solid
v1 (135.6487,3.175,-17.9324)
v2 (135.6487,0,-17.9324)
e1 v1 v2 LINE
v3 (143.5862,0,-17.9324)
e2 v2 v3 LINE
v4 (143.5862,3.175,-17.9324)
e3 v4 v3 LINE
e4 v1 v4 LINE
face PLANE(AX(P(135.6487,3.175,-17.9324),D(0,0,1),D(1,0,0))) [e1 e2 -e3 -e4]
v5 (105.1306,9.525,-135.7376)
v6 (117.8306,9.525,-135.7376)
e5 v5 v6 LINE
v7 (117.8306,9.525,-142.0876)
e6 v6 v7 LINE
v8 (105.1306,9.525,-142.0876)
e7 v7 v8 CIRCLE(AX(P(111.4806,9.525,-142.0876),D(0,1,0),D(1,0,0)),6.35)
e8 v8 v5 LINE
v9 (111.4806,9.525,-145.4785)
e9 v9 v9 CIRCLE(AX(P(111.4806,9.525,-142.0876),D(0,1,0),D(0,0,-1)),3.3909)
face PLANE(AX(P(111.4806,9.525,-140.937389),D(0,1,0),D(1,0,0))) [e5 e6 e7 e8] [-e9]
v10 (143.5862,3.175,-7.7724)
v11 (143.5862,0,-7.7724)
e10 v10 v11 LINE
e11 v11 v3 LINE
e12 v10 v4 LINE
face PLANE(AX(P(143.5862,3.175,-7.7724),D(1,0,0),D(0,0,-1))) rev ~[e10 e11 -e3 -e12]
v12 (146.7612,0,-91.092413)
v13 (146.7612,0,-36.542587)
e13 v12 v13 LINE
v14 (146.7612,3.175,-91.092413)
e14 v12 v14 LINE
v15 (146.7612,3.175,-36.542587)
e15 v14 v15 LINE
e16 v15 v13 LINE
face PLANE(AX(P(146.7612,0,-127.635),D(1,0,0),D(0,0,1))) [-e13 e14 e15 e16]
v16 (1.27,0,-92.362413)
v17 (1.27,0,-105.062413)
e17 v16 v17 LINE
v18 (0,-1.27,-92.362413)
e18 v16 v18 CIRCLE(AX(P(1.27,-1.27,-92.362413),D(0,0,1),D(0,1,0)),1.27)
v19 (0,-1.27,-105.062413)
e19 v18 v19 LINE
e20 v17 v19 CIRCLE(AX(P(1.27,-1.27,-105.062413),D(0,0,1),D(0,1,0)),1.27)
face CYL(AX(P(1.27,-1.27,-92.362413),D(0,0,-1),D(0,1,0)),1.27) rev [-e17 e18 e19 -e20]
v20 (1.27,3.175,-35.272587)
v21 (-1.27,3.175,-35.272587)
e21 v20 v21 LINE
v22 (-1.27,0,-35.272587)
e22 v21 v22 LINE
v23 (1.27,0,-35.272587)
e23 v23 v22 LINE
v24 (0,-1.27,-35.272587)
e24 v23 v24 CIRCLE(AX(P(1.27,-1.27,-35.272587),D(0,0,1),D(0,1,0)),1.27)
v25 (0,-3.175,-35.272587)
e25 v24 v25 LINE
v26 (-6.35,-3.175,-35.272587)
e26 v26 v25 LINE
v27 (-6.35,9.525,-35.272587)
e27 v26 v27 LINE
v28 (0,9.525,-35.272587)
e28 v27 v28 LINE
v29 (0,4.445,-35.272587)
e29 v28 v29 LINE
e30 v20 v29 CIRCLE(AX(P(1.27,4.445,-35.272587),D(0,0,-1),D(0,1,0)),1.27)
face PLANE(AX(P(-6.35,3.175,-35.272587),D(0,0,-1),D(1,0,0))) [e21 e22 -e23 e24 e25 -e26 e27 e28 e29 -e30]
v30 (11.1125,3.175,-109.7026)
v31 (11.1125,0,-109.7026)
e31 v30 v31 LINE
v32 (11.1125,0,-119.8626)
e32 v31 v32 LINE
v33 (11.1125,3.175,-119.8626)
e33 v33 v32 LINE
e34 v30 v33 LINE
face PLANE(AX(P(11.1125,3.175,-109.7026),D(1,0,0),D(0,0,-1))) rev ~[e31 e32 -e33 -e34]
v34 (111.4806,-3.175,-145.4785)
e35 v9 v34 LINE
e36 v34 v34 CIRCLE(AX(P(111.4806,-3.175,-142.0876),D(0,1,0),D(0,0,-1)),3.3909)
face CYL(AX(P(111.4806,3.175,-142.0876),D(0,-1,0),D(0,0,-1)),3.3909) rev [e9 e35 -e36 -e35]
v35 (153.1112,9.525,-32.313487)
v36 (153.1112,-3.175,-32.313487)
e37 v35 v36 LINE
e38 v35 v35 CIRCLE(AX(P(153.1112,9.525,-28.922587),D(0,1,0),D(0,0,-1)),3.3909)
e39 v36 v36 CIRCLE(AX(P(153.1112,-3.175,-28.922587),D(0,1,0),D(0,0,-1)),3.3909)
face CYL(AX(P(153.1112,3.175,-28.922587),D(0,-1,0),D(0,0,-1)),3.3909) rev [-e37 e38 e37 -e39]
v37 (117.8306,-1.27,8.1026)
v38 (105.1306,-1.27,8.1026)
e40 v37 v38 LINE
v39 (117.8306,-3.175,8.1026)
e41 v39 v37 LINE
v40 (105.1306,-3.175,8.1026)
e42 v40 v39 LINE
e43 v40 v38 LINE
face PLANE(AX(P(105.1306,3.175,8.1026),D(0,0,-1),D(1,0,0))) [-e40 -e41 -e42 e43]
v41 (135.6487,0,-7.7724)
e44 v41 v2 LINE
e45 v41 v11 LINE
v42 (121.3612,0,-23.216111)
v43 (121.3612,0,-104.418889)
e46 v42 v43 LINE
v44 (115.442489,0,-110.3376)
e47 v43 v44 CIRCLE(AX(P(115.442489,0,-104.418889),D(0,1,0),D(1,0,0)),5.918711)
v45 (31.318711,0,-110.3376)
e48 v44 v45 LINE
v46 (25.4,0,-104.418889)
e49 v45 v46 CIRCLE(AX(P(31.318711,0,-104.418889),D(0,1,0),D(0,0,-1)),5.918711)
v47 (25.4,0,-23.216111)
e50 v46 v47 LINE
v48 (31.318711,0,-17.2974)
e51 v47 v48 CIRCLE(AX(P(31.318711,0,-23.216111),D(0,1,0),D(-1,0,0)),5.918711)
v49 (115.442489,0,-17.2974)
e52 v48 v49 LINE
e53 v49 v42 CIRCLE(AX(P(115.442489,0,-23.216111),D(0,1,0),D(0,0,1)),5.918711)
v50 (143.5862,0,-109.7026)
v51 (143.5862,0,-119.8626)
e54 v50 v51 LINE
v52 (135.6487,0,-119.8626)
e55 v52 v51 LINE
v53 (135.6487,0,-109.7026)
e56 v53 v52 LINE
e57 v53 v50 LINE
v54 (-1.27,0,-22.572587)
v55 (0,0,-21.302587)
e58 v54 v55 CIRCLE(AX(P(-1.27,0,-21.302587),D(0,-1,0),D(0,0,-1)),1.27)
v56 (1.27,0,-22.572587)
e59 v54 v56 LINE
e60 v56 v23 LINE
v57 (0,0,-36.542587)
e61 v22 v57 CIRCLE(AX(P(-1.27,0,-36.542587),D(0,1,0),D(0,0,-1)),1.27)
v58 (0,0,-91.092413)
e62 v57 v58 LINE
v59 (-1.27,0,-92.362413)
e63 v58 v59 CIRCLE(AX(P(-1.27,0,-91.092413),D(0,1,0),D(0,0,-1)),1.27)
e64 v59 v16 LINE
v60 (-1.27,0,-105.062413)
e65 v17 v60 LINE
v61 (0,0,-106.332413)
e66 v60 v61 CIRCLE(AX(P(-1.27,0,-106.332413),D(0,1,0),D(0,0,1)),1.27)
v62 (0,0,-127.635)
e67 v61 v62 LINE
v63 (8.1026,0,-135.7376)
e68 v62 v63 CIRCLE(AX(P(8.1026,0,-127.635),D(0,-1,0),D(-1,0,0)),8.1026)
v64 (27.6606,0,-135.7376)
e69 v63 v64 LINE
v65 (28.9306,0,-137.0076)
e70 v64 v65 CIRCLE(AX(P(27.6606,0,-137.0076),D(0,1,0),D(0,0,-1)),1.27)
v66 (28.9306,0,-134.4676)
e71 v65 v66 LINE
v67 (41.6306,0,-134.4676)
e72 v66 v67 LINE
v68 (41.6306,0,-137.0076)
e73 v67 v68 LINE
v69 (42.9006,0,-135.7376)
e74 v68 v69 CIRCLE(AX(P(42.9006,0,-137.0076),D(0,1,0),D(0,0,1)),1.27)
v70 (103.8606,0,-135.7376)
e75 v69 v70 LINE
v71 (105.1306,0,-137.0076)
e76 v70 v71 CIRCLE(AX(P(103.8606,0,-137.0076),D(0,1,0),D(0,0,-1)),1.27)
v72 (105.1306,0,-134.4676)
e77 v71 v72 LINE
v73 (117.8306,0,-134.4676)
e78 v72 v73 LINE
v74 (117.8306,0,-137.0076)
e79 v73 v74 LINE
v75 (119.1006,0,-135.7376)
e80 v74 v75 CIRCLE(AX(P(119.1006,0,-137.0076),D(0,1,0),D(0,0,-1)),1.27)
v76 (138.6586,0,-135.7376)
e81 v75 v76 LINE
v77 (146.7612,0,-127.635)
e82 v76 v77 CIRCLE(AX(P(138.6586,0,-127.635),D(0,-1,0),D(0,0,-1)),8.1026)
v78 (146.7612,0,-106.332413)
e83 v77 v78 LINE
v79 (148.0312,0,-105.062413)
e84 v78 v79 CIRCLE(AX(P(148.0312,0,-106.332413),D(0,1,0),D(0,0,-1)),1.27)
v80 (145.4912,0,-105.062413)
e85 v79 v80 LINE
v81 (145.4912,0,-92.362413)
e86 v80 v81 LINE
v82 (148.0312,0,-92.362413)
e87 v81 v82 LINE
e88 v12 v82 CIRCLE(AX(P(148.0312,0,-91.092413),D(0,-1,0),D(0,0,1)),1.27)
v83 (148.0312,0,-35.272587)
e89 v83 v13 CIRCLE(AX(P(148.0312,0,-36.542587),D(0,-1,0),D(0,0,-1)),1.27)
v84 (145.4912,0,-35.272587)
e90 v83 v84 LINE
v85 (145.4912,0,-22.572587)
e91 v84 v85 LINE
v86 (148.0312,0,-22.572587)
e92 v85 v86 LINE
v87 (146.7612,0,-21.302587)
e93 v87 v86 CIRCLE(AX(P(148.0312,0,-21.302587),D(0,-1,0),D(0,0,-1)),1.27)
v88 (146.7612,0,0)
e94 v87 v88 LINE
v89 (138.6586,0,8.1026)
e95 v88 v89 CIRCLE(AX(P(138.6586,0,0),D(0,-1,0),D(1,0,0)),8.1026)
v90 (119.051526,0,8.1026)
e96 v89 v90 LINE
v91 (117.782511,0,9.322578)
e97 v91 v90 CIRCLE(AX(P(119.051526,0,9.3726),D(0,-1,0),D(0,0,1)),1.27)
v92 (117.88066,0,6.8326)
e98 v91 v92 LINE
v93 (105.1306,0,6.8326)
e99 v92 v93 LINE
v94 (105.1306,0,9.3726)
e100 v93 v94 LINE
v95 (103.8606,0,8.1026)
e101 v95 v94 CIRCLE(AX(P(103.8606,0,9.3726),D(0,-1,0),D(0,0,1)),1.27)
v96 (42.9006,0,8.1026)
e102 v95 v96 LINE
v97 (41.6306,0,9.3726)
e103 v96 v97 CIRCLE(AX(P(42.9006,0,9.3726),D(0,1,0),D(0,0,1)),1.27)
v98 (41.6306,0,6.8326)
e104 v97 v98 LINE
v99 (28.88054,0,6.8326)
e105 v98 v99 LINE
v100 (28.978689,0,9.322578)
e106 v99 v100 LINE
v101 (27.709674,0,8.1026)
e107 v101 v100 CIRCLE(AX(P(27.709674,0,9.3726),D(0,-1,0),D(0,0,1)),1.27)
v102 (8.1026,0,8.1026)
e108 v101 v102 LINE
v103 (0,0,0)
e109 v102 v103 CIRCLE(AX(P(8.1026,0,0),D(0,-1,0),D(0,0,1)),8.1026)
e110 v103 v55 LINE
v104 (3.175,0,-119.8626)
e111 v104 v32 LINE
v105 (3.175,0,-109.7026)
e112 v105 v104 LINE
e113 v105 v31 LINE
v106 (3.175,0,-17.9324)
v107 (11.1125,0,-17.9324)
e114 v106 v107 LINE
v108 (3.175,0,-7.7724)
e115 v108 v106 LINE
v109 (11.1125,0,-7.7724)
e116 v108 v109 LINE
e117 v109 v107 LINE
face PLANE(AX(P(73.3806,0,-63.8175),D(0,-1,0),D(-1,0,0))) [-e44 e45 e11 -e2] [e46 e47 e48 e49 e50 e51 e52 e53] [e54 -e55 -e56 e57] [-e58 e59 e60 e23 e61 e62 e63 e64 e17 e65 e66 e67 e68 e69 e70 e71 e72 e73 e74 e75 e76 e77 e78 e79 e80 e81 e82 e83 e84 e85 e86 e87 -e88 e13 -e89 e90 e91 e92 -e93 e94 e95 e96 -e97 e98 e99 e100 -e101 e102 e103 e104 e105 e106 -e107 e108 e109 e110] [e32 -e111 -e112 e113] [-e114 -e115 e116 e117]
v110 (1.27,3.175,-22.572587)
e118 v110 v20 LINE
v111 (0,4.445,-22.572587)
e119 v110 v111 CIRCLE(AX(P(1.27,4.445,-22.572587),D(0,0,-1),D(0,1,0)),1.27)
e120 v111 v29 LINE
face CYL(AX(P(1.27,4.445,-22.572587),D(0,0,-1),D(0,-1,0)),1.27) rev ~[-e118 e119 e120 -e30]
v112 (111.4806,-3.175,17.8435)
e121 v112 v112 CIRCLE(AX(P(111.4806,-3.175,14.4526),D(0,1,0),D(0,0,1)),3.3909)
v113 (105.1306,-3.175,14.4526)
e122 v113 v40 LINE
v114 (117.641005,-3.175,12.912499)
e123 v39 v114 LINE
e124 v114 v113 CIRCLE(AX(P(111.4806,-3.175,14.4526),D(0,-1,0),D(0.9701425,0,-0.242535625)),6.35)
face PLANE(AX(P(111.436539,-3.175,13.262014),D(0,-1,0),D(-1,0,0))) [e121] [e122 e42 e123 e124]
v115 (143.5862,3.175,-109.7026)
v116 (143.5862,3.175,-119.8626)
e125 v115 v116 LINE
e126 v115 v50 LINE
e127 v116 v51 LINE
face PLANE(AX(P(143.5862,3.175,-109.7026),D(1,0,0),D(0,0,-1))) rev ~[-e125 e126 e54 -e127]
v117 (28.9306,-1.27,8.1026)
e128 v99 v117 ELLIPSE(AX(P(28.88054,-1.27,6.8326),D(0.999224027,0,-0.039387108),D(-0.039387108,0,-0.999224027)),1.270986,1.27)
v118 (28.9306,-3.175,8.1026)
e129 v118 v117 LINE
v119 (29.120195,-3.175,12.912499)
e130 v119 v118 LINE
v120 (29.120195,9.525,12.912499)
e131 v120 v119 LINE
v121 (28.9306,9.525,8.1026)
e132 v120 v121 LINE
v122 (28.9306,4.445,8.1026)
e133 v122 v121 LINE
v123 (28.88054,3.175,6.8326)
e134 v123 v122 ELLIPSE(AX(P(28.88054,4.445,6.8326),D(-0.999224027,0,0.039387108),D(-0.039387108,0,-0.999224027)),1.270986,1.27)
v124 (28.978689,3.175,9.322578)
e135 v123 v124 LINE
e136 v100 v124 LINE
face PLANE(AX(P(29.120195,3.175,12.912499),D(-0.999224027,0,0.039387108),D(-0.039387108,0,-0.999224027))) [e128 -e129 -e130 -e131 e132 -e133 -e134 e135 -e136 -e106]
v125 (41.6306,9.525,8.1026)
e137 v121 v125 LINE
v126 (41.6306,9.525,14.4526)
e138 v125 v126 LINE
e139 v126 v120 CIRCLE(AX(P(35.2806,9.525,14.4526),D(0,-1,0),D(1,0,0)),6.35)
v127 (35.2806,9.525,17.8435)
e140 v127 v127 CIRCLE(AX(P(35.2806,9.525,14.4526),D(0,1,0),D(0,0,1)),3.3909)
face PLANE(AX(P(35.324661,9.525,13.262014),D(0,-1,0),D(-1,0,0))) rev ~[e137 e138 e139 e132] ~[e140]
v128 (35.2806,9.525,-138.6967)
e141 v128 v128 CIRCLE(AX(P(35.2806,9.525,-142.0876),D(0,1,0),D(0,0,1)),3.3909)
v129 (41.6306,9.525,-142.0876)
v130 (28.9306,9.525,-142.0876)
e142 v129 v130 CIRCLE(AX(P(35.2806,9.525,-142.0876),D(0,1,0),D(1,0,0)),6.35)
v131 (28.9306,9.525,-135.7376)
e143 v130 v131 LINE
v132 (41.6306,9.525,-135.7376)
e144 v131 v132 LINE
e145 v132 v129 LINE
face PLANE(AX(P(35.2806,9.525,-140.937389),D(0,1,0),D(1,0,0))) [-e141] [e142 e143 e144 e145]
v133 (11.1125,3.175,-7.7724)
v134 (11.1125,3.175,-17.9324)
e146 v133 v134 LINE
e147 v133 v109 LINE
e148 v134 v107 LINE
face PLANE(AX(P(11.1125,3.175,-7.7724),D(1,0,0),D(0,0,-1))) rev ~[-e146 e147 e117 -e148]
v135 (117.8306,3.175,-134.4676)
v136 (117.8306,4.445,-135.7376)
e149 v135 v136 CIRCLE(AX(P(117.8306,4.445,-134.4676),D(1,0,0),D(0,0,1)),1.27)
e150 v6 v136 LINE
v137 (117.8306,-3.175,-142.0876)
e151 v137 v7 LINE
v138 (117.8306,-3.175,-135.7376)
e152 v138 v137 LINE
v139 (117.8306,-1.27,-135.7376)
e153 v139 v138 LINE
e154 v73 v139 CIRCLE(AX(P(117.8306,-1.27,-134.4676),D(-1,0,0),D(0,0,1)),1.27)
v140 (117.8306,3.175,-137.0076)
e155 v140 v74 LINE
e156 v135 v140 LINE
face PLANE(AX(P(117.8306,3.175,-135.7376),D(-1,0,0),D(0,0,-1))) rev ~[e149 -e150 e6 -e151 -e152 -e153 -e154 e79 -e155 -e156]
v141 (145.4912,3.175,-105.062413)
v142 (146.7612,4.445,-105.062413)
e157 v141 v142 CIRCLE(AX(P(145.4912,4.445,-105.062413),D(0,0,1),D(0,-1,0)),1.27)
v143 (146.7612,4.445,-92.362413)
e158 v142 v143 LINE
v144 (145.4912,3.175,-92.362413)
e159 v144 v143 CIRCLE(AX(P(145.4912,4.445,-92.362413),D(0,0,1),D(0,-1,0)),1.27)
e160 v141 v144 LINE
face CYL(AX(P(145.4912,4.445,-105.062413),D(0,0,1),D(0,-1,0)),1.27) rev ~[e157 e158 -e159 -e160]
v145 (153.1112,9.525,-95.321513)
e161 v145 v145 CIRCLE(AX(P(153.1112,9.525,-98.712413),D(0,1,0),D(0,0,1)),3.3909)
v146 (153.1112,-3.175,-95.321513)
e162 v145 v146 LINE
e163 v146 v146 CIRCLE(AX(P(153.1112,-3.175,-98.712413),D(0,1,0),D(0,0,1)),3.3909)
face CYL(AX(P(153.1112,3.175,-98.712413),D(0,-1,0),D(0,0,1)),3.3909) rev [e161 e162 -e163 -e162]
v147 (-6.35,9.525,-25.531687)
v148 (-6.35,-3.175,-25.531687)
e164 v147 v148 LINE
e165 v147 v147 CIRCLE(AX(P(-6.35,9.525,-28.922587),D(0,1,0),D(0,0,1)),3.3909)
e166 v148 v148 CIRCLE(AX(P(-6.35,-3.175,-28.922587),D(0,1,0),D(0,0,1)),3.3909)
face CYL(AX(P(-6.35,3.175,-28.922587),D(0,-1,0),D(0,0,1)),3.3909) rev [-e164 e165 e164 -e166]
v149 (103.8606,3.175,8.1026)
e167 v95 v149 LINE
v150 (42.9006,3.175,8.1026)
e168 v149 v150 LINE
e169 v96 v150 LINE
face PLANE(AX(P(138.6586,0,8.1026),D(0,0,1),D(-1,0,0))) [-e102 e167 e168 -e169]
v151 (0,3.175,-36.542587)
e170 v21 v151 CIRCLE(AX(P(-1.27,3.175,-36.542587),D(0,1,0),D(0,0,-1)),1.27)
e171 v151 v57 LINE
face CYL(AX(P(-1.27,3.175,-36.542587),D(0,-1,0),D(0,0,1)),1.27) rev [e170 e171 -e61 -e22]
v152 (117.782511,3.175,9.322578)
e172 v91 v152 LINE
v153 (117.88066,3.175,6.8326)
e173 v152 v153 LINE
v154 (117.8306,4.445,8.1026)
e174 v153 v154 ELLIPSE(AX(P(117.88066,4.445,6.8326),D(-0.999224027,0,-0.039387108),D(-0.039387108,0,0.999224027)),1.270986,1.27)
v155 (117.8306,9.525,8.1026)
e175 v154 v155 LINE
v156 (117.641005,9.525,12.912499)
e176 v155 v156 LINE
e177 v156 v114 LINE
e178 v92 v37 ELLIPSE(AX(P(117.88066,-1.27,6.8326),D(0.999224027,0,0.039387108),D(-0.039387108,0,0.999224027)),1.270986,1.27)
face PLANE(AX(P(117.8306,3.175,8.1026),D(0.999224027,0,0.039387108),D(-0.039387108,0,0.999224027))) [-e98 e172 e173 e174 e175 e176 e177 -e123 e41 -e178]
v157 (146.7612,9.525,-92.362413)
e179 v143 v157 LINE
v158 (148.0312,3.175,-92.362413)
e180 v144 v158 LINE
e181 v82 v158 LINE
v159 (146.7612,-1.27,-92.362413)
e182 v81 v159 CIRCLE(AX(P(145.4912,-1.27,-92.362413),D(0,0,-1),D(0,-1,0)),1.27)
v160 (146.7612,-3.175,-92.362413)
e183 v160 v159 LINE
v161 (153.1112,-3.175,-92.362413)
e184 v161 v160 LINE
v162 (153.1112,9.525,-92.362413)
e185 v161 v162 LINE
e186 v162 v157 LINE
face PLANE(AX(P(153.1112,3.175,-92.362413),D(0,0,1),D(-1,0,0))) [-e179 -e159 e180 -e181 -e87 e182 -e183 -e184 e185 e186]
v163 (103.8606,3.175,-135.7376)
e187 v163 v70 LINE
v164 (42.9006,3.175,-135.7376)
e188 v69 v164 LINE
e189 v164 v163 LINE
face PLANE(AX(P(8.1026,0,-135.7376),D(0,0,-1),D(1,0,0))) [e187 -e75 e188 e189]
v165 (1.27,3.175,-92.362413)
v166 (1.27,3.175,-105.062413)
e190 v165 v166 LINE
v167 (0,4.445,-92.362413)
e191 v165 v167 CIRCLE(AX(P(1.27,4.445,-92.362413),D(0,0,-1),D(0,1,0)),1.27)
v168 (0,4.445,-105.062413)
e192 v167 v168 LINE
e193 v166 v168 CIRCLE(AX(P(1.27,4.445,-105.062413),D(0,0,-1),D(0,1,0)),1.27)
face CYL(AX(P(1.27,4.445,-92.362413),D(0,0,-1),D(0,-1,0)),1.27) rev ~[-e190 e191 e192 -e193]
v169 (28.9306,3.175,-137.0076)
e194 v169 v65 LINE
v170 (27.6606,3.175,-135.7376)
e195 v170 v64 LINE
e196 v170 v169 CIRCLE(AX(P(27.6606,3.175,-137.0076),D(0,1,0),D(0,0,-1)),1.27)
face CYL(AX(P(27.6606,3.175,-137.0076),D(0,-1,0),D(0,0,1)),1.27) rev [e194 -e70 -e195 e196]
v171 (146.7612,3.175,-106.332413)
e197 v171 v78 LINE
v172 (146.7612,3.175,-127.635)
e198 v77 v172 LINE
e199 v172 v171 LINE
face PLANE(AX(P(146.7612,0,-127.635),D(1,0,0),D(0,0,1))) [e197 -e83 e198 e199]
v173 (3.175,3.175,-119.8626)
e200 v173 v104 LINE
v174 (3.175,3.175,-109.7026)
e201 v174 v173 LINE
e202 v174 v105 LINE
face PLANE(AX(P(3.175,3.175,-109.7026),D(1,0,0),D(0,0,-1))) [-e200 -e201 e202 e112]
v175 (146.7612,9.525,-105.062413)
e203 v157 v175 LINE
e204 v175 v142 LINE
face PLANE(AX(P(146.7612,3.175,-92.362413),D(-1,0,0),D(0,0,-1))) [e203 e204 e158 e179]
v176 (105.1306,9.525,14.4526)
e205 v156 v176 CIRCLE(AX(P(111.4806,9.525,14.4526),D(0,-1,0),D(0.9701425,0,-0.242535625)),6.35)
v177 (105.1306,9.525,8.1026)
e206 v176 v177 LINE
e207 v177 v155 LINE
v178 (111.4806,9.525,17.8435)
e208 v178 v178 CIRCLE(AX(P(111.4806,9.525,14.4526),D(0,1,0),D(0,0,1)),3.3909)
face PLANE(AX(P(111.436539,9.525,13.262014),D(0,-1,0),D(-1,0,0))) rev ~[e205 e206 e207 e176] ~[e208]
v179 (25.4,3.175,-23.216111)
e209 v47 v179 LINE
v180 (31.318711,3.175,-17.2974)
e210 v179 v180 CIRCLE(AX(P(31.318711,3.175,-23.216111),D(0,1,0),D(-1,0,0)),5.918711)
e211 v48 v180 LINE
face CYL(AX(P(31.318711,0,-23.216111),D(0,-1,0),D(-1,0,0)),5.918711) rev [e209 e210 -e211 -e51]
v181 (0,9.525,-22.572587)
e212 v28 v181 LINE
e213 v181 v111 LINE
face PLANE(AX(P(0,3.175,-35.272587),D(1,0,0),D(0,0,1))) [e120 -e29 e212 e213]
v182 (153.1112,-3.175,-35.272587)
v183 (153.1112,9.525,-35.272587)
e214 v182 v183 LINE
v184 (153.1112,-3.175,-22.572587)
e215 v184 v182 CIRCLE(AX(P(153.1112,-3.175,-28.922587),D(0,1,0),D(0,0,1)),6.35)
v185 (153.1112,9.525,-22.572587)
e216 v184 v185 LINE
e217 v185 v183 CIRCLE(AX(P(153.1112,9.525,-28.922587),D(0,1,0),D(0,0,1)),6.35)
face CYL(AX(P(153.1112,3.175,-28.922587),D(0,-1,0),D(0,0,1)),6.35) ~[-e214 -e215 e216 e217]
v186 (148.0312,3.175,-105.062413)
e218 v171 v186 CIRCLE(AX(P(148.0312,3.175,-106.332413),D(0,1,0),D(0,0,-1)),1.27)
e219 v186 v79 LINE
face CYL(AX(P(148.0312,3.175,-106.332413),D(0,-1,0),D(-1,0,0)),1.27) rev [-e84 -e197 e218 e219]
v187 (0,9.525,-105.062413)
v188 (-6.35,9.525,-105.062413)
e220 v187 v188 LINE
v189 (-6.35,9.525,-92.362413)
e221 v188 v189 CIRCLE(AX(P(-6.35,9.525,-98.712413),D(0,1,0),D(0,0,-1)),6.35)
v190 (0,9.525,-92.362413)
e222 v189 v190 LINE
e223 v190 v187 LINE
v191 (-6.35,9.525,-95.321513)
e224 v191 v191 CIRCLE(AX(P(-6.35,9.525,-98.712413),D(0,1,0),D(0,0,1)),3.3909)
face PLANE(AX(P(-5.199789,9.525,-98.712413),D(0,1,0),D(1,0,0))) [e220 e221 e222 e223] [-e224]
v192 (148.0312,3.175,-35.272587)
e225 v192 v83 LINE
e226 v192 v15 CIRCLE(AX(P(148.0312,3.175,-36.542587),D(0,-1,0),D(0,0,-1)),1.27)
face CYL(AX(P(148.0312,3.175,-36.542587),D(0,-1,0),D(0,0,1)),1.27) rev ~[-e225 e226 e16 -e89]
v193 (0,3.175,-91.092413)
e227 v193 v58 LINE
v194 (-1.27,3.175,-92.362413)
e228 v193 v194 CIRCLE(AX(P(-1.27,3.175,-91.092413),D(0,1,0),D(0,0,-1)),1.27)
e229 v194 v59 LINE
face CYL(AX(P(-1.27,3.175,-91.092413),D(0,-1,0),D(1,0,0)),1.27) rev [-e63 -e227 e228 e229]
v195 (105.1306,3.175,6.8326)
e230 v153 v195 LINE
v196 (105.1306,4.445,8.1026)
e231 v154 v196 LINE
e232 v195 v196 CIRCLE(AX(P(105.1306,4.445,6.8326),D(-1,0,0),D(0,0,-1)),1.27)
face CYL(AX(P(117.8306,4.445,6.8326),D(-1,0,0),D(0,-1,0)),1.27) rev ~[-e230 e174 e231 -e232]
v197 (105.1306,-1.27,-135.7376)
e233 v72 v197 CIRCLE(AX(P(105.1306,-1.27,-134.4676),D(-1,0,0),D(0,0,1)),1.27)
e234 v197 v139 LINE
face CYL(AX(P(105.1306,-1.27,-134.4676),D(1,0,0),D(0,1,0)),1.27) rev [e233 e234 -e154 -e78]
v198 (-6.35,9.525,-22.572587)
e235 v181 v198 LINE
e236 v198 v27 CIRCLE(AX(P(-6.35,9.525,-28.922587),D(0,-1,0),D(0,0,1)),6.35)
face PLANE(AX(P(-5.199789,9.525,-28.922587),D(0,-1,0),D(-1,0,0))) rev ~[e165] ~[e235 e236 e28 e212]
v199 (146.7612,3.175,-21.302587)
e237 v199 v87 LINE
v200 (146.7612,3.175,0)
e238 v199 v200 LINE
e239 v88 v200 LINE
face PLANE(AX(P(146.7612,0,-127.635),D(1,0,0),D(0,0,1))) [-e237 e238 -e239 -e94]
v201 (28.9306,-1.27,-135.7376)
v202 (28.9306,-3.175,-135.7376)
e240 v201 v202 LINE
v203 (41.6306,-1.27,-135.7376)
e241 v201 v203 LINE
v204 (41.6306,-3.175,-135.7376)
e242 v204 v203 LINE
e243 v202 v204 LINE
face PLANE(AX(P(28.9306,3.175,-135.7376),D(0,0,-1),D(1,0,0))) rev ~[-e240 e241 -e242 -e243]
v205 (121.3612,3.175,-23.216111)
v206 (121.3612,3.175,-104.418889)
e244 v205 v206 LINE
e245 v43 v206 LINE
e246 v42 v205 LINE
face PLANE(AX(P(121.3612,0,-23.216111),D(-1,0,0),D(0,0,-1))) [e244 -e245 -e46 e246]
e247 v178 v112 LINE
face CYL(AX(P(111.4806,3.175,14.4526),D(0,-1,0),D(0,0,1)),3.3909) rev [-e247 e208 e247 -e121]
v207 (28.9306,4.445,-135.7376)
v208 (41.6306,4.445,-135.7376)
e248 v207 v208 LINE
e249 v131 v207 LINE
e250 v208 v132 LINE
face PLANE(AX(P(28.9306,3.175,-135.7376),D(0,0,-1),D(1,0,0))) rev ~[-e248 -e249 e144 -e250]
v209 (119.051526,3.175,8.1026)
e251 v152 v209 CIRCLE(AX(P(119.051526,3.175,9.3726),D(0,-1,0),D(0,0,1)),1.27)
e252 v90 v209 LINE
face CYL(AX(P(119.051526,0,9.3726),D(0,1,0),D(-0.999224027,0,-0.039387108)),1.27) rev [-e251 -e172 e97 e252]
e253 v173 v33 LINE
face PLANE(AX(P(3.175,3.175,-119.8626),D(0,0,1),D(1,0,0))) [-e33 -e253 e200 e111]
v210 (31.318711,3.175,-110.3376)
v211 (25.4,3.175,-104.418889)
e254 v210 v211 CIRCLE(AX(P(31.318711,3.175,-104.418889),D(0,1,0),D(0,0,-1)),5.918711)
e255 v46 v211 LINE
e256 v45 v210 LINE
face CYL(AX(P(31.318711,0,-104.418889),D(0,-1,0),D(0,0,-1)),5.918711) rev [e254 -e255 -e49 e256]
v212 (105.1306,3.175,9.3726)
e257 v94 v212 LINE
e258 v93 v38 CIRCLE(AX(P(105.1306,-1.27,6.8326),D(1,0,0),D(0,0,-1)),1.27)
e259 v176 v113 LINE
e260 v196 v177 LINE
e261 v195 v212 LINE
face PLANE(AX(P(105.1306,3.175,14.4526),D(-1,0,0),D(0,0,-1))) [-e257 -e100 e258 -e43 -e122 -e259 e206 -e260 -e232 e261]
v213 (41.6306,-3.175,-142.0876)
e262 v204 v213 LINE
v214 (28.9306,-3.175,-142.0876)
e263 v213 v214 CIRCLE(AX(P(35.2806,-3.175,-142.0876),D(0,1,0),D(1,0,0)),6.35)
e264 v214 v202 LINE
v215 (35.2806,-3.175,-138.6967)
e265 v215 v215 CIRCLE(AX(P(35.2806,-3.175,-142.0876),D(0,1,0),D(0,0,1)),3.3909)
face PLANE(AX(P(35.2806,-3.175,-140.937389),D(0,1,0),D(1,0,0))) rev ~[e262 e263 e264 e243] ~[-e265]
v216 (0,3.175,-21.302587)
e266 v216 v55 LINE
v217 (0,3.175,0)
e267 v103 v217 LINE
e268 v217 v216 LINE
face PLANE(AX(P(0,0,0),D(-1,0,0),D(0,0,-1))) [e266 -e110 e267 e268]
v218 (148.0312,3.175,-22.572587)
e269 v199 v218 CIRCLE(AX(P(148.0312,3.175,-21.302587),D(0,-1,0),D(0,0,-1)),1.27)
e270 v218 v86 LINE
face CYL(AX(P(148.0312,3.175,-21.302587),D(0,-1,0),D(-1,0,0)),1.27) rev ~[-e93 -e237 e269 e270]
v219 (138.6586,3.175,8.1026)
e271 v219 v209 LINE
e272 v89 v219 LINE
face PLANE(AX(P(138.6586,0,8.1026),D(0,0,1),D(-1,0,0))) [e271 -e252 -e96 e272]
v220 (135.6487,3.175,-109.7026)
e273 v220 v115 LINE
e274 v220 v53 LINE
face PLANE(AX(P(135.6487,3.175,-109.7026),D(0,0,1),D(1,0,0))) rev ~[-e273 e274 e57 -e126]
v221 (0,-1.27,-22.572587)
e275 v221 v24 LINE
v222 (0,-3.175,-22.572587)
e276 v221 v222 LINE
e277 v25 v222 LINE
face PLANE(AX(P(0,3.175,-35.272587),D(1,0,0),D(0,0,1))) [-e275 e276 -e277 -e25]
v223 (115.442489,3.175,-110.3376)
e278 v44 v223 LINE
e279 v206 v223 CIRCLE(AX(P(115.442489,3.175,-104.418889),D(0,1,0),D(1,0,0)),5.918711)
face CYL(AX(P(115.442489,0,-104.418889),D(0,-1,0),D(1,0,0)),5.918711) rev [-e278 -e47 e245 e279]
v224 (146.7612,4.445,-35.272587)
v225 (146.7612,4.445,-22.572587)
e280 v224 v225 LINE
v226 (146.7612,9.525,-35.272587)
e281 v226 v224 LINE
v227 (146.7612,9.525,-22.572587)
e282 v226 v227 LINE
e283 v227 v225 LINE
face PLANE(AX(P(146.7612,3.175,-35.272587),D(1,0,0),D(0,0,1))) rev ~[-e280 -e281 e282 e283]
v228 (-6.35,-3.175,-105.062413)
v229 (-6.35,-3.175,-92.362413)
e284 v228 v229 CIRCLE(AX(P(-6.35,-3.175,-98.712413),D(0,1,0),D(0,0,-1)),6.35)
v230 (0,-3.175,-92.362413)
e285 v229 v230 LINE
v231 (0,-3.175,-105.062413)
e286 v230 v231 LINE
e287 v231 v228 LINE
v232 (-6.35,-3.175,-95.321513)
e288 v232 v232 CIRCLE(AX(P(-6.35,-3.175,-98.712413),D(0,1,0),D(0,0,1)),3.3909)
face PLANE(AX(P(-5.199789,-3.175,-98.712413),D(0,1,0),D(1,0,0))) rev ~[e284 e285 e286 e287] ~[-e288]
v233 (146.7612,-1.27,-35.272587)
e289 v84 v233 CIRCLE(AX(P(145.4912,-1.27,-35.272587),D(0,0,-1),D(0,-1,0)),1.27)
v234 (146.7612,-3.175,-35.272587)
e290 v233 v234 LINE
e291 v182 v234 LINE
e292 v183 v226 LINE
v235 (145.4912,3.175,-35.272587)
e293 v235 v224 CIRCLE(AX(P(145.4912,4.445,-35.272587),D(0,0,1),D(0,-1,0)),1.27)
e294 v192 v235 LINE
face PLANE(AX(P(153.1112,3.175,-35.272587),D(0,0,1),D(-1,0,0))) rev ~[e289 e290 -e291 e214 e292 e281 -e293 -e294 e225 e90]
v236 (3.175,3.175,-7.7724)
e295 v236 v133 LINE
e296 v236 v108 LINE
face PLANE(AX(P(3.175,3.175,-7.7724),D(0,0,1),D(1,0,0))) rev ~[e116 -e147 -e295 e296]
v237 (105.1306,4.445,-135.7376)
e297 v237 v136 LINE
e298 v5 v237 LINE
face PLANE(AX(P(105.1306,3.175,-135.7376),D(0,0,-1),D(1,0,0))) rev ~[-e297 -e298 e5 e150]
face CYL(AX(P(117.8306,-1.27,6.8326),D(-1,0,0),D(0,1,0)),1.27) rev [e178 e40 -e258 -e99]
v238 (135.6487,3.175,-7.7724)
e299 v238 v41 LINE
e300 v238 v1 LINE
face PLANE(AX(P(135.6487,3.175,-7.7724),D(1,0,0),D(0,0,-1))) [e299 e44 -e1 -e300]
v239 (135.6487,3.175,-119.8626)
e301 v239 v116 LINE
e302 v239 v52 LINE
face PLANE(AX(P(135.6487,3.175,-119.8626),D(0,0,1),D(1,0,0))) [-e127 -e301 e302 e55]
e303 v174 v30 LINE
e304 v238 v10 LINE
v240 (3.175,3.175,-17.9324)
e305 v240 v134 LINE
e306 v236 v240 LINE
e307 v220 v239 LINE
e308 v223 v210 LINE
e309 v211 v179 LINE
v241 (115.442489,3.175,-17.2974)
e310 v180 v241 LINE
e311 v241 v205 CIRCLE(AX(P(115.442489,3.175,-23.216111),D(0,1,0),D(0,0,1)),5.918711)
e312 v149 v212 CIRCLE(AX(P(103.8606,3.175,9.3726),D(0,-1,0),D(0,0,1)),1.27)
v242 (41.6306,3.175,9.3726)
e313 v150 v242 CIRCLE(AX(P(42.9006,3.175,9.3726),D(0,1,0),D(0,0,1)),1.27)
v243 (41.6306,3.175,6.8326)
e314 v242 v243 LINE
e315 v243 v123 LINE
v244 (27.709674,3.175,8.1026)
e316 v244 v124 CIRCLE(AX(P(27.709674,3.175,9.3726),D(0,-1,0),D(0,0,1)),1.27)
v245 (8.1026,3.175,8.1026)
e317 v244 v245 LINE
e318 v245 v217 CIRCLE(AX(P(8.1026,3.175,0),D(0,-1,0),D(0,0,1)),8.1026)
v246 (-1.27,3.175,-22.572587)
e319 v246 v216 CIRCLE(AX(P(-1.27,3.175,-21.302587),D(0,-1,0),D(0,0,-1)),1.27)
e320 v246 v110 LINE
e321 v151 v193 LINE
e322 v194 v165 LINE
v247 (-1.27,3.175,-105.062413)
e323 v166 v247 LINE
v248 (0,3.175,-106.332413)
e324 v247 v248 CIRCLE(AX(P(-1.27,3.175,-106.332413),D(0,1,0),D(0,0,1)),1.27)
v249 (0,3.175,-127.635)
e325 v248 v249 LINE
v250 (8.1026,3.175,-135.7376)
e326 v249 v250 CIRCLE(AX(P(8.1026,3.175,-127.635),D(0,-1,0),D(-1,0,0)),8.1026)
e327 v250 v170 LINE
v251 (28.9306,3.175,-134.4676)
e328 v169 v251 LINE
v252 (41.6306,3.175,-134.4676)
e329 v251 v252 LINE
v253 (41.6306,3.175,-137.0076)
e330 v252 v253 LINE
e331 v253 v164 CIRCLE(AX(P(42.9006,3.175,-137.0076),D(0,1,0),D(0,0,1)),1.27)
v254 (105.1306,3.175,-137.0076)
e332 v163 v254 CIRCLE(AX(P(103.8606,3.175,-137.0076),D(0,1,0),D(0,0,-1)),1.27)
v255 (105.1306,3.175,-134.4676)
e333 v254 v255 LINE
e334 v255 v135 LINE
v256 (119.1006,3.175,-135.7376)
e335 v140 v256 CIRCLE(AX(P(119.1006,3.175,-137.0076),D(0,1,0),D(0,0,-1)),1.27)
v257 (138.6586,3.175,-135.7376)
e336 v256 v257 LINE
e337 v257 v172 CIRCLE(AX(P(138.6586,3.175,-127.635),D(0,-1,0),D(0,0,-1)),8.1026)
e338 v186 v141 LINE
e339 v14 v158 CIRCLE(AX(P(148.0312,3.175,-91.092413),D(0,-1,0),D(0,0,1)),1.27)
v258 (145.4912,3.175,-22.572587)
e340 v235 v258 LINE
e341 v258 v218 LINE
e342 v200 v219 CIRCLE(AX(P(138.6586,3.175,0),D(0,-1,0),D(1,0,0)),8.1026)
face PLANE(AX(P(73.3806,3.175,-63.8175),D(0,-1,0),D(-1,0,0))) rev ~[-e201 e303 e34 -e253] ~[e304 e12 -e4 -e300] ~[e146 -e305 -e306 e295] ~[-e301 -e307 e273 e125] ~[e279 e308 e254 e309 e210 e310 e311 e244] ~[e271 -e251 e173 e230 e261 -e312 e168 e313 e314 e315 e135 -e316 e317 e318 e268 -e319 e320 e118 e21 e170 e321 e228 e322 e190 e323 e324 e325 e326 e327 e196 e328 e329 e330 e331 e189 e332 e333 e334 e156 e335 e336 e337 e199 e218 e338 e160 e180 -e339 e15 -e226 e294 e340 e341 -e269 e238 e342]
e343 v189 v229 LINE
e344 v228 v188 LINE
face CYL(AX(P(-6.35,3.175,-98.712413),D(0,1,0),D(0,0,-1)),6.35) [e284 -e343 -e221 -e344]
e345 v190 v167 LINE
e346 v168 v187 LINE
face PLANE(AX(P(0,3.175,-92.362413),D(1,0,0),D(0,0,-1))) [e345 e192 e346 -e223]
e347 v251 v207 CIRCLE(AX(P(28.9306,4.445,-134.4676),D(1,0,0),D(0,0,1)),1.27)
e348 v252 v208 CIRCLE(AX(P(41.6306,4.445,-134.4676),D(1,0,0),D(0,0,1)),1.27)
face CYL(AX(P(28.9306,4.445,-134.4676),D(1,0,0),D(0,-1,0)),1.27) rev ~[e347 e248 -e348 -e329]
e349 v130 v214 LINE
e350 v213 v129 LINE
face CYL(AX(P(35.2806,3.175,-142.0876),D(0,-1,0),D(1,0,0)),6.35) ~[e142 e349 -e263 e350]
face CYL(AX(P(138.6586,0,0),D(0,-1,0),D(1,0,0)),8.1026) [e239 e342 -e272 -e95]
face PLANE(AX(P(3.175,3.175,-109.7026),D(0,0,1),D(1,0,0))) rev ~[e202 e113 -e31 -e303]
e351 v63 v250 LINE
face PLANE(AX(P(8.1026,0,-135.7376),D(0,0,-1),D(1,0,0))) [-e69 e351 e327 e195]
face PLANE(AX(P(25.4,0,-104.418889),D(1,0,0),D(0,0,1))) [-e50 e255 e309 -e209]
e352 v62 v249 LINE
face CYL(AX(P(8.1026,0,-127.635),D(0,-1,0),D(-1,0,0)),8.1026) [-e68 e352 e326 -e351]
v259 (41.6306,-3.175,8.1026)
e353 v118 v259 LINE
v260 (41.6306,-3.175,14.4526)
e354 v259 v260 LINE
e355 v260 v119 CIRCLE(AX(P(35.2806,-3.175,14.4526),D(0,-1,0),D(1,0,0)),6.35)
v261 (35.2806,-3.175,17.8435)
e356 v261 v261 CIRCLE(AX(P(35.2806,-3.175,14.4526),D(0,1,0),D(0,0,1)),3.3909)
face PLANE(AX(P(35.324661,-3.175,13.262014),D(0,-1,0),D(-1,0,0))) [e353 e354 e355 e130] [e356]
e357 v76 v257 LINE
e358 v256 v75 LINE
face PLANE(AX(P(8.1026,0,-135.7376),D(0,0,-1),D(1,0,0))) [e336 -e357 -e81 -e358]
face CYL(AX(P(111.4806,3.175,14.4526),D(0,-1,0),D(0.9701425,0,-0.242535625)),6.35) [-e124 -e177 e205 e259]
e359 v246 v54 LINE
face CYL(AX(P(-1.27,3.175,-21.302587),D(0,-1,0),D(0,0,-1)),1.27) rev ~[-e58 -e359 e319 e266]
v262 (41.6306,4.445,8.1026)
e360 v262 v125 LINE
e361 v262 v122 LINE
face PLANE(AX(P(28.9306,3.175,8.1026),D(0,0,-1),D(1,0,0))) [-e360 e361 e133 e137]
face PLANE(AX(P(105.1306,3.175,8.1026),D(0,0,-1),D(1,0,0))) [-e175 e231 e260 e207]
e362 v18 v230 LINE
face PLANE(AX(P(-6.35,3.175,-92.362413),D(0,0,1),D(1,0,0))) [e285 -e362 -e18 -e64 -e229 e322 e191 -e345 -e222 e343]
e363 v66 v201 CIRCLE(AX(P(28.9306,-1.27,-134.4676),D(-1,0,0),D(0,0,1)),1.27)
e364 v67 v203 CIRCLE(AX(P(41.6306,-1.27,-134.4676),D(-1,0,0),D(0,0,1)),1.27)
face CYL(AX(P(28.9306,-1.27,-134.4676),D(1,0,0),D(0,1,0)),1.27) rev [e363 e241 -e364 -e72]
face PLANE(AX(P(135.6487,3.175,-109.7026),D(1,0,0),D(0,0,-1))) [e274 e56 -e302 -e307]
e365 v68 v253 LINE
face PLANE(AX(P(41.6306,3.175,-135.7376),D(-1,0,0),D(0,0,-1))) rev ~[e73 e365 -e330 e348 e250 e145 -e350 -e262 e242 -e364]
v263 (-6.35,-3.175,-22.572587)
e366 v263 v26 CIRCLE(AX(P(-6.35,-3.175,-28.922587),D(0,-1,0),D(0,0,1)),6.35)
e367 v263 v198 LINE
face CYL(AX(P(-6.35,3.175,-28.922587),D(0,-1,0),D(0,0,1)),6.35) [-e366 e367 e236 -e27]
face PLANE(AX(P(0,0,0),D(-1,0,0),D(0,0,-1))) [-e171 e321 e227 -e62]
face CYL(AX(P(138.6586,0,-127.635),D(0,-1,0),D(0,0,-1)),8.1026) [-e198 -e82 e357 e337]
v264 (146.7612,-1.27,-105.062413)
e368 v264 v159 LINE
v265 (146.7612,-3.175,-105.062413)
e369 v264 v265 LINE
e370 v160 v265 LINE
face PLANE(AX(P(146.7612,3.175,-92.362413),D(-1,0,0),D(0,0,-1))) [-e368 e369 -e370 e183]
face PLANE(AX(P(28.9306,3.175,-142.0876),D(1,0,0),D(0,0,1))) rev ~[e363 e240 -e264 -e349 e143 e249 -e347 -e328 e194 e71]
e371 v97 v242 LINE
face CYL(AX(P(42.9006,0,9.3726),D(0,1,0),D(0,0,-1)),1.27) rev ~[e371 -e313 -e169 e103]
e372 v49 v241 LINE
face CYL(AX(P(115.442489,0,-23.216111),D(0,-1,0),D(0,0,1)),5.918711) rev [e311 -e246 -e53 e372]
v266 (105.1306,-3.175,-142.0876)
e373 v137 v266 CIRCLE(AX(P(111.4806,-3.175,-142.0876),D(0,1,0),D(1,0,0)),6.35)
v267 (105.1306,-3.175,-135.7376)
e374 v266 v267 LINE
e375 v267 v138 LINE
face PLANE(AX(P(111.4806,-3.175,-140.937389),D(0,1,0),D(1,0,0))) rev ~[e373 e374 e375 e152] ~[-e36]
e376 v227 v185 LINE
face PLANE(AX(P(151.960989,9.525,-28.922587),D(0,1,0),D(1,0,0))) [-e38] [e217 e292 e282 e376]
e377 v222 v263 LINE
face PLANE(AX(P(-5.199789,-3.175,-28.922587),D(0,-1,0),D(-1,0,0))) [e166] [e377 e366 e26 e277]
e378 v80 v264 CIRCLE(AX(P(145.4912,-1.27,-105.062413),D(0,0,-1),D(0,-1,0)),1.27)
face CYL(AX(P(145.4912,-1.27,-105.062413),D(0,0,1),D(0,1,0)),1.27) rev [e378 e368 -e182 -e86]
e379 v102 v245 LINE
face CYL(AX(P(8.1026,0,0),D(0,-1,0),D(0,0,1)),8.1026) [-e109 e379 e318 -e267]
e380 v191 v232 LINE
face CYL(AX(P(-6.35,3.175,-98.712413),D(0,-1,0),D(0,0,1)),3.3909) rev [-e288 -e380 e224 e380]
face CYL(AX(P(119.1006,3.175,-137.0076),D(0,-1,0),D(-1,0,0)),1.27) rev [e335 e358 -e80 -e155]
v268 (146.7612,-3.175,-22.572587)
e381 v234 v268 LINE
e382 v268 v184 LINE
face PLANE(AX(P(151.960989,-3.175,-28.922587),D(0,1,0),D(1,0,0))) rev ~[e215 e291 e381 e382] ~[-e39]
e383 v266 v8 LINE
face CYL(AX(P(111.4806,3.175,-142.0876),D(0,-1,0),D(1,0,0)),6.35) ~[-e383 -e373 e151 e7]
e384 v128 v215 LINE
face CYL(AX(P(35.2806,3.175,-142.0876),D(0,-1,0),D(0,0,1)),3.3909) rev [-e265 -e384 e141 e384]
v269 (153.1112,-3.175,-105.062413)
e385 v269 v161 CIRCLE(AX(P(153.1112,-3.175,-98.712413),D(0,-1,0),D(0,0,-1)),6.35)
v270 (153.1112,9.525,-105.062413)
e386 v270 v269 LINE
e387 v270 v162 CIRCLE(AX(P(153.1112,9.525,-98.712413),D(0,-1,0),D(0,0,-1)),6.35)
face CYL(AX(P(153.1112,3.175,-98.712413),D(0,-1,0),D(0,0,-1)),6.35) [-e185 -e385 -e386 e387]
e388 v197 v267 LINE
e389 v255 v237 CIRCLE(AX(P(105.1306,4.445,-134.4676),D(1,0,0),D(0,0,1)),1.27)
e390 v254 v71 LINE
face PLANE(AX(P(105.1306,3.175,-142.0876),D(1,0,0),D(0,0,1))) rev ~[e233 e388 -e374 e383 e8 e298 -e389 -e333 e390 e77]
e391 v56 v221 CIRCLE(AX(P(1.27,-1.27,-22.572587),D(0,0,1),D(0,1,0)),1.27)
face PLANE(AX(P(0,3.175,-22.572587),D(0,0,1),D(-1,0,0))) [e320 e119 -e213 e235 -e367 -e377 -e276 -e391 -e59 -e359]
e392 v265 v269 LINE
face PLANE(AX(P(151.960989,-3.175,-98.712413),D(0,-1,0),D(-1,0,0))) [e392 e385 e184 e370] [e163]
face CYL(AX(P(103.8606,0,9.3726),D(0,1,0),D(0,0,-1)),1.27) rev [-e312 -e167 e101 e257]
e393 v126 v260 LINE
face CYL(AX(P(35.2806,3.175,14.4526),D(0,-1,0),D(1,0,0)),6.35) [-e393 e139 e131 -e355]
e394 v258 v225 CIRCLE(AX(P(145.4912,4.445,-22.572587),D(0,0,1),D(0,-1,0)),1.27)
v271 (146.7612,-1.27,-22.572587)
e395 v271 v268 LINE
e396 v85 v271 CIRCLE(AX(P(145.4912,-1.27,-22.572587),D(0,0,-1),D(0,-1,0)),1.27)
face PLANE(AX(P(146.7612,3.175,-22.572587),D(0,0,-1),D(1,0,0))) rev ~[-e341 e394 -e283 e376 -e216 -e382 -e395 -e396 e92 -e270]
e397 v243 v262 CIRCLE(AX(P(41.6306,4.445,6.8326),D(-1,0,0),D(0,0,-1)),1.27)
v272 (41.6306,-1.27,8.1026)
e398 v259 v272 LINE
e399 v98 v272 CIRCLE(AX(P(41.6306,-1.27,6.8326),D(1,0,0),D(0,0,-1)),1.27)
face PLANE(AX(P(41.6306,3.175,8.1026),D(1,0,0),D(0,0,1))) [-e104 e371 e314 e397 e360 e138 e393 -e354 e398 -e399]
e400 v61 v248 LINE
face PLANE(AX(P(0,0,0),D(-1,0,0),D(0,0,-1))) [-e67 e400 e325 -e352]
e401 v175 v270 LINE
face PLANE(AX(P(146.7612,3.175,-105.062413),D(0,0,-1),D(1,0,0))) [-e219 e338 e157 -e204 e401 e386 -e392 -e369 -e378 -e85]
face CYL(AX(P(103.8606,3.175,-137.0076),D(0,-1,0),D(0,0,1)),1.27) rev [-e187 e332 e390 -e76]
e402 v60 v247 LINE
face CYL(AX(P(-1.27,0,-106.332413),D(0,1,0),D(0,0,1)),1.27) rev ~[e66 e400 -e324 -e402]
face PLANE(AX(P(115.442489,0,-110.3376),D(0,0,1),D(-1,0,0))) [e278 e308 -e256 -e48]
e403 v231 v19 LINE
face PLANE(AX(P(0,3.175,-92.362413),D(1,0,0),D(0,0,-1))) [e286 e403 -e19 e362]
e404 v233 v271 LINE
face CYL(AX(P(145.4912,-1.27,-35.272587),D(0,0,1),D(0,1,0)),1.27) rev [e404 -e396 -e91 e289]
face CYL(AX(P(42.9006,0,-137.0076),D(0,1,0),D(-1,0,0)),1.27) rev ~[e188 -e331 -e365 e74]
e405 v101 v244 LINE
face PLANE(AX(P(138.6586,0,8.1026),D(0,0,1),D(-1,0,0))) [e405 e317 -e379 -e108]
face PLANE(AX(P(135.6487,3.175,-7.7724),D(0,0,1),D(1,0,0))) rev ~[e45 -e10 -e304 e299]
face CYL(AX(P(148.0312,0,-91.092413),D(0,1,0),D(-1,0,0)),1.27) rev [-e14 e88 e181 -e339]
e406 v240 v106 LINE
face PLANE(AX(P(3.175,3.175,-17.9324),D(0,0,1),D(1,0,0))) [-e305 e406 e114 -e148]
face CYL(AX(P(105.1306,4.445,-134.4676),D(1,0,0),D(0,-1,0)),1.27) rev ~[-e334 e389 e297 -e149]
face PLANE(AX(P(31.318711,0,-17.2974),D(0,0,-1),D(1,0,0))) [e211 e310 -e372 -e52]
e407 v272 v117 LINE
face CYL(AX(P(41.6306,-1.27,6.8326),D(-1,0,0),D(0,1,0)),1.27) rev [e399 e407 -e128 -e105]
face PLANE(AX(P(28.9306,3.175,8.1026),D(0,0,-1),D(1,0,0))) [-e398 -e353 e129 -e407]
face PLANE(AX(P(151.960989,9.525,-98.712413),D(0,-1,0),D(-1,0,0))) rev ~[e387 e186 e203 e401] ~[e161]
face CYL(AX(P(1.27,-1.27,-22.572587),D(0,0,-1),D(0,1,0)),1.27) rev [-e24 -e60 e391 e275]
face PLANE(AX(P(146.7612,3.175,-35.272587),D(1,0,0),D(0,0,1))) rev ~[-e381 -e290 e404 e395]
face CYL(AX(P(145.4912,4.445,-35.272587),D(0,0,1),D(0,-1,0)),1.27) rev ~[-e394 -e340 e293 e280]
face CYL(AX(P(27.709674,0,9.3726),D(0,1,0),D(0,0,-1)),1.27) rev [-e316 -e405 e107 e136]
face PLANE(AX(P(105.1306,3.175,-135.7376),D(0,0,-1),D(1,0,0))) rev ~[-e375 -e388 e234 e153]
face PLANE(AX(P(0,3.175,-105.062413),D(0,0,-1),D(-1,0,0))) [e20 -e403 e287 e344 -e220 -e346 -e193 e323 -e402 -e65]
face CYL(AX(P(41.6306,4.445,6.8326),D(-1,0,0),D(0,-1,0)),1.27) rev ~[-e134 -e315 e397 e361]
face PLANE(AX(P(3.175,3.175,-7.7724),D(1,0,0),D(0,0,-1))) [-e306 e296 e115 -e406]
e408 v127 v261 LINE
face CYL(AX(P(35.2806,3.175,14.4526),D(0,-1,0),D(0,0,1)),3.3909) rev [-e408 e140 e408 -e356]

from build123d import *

# Parameters (mm, degrees)
BOSS_EXTRUDE1_DEPTH = 3.175
SKETCH3_W           = 7.9375
SKETCH3_H           = 10.16
CUT_EXTRUDE1_DEPTH  = 3.175
SKETCH4_R           = 3.3909
BOSS_EXTRUDE2_DEPTH = 6.35
FILLET1_R           = 1.27
FILLET2_R           = 1.27
FILLET3_R           = 1.27
FILLET4_R           = 1.27


with BuildPart() as part:
    # Sketch1 → Boss-Extrude1 (new body)
    with BuildSketch(Plane(origin=(0, 0, 0), x_dir=(1, 0, 0), z_dir=(0, 1, 0))):
        with BuildLine():
            Line((0, 0), (0, 127.635))
            ThreePointArc((0, 127.635), (2.373196595, 133.364403405), (8.1026, 135.7376))
            Line((8.1026, 135.7376), (138.6586, 135.7376))
            ThreePointArc((138.6586, 135.7376), (144.388003405, 133.364403405), (146.7612, 127.635))
            Line((146.7612, 127.635), (146.7612, 0))
            ThreePointArc((146.7612, 0), (144.388003405, -5.729403405), (138.6586, -8.1026))
            Line((138.6586, -8.1026), (8.1026, -8.1026))
            ThreePointArc((8.1026, -8.1026), (2.373196595, -5.729403405), (0, 0))
        make_face()
        with BuildLine():
            Line((25.4, 104.418889077), (25.4, 23.216110923))
            ThreePointArc((25.4, 23.216110923), (27.133550294, 19.030950294), (31.318710923, 17.2974))
            Line((31.318710923, 17.2974), (115.442489077, 17.2974))
            ThreePointArc((115.442489077, 17.2974), (119.627649706, 19.030950294), (121.3612, 23.216110923))
            Line((121.3612, 23.216110923), (121.3612, 104.418889077))
            ThreePointArc((121.3612, 104.418889077), (119.627649706, 108.604049706), (115.442489077, 110.3376))
            Line((115.442489077, 110.3376), (31.318710923, 110.3376))
            ThreePointArc((31.318710923, 110.3376), (27.133550294, 108.604049706), (25.4, 104.418889077))
        make_face(mode=Mode.SUBTRACT)
    extrude(amount=BOSS_EXTRUDE1_DEPTH)

    # Sketch3 → Cut-Extrude1 (cut)
    with BuildSketch(Plane(origin=(0, 3.175, 0), x_dir=(1, 0, 0), z_dir=(0, 1, 0))):
        with Locations((7.14375, 114.7826)):
            Rectangle(SKETCH3_W, SKETCH3_H)
        with Locations((139.61745, 114.7826)):
            Rectangle(SKETCH3_W, SKETCH3_H)
        with Locations((139.61745, 12.8524)):
            Rectangle(SKETCH3_W, SKETCH3_H)
        with Locations((7.14375, 12.8524)):
            Rectangle(SKETCH3_W, SKETCH3_H)
    extrude(amount=-CUT_EXTRUDE1_DEPTH, mode=Mode.SUBTRACT)

    # Sketch4 → Boss-Extrude2 (add, symmetric)
    # profile 1 of 8: a face of its own
    with BuildSketch(Plane(origin=(0, 3.175, 0), x_dir=(1, 0, 0), z_dir=(0, 1, 0))):
        with BuildLine():
            Line((28.9306, 135.7376), (41.6306, 135.7376))
            Line((41.6306, 135.7376), (41.6306, 142.0876))
            ThreePointArc((41.6306, 142.0876), (35.2806, 148.4376), (28.9306, 142.0876))
            Line((28.9306, 142.0876), (28.9306, 135.7376))
        make_face()
        with Locations(Location((35.2806, 142.0876, 0), (0, 0, 270))):
            Circle(SKETCH4_R, mode=Mode.SUBTRACT)
    # profile 2 of 8: a face of its own
    with BuildSketch(Plane(origin=(0, 3.175, 0), x_dir=(1, 0, 0), z_dir=(0, 1, 0))):
        with BuildLine():
            Line((41.6306, -8.1026), (41.6306, -14.4526))
            ThreePointArc((41.6306, -14.4526), (34.504736276, -20.755022985), (29.120195124, -12.912498781))
            Line((29.120195124, -12.912498781), (28.9306, -8.1026))
            Line((28.9306, -8.1026), (41.6306, -8.1026))
        make_face()
        with Locations(Location((35.2806, -14.4526, 0), (0, 0, 270))):
            Circle(SKETCH4_R, mode=Mode.SUBTRACT)
    # profile 3 of 8: a face of its own
    with BuildSketch(Plane(origin=(0, 3.175, 0), x_dir=(1, 0, 0), z_dir=(0, 1, 0))):
        with BuildLine():
            Line((117.8306, -8.1026), (117.641004876, -12.912498781))
            ThreePointArc((117.641004876, -12.912498781), (112.256463724, -20.755022985), (105.1306, -14.4526))
            Line((105.1306, -14.4526), (105.1306, -8.1026))
            Line((105.1306, -8.1026), (117.8306, -8.1026))
        make_face()
        with Locations(Location((111.4806, -14.4526, 0), (0, 0, 270))):
            Circle(SKETCH4_R, mode=Mode.SUBTRACT)
    # profile 4 of 8: a face of its own
    with BuildSketch(Plane(origin=(0, 3.175, 0), x_dir=(1, 0, 0), z_dir=(0, 1, 0))):
        with BuildLine():
            Line((117.8306, 135.7376), (117.8306, 142.0876))
            ThreePointArc((117.8306, 142.0876), (111.4806, 148.4376), (105.1306, 142.0876))
            Line((105.1306, 142.0876), (105.1306, 135.7376))
            Line((105.1306, 135.7376), (117.8306, 135.7376))
        make_face()
        with Locations(Location((111.4806, 142.0876, 0), (0, 0, 90))):
            Circle(SKETCH4_R, mode=Mode.SUBTRACT)
    # profile 5 of 8: a face of its own
    with BuildSketch(Plane(origin=(0, 3.175, 0), x_dir=(1, 0, 0), z_dir=(0, 1, 0))):
        with BuildLine():
            Line((146.7612, 92.362412849), (146.7612, 105.062412849))
            Line((146.7612, 105.062412849), (153.1112, 105.062412849))
            ThreePointArc((153.1112, 105.062412849), (159.4612, 98.712412849), (153.1112, 92.362412849))
            Line((153.1112, 92.362412849), (146.7612, 92.362412849))
        make_face()
        with Locations(Location((153.1112, 98.712412849, 0), (0, 0, 270))):
            Circle(SKETCH4_R, mode=Mode.SUBTRACT)
    # profile 6 of 8: a face of its own
    with BuildSketch(Plane(origin=(0, 3.175, 0), x_dir=(1, 0, 0), z_dir=(0, 1, 0))):
        with BuildLine():
            Line((146.7612, 22.572587151), (153.1112, 22.572587151))
            ThreePointArc((153.1112, 22.572587151), (159.4612, 28.922587151), (153.1112, 35.272587151))
            Line((153.1112, 35.272587151), (146.7612, 35.272587151))
            Line((146.7612, 35.272587151), (146.7612, 22.572587151))
        make_face()
        with Locations(Location((153.1112, 28.922587151, 0), (0, 0, 90))):
            Circle(SKETCH4_R, mode=Mode.SUBTRACT)
    # profile 7 of 8: a face of its own
    with BuildSketch(Plane(origin=(0, 3.175, 0), x_dir=(1, 0, 0), z_dir=(0, 1, 0))):
        with BuildLine():
            Line((-6.35, 35.272587151), (0, 35.272587151))
            Line((0, 35.272587151), (0, 22.572587151))
            Line((0, 22.572587151), (-6.35, 22.572587151))
            ThreePointArc((-6.35, 22.572587151), (-12.7, 28.922587151), (-6.35, 35.272587151))
        make_face()
        with Locations(Location((-6.35, 28.922587151, 0), (0, 0, 270))):
            Circle(SKETCH4_R, mode=Mode.SUBTRACT)
    # profile 8 of 8: a face of its own
    with BuildSketch(Plane(origin=(0, 3.175, 0), x_dir=(1, 0, 0), z_dir=(0, 1, 0))):
        with BuildLine():
            Line((0, 92.362412849), (0, 105.062412849))
            Line((0, 105.062412849), (-6.35, 105.062412849))
            ThreePointArc((-6.35, 105.062412849), (-12.7, 98.712412849), (-6.35, 92.362412849))
            Line((-6.35, 92.362412849), (0, 92.362412849))
        make_face()
        with Locations(Location((-6.35, 98.712412849, 0), (0, 0, 270))):
            Circle(SKETCH4_R, mode=Mode.SUBTRACT)
    extrude(amount=BOSS_EXTRUDE2_DEPTH, both=True)

    # Fillet1
    fillet1_edges = [part.edges().sort_by_distance(p)[0] for p in [
        (28.9306, 1.5875, 8.1026),
        (41.6306, 1.5875, 8.1026),
    ]]
    fillet(fillet1_edges, radius=FILLET1_R)

    # Fillet2
    fillet2_edges = [part.edges().sort_by_distance(p)[0] for p in [
        (35.2806, 0, 8.1026),
        (35.2806, 3.175, 8.1026),
    ]]
    fillet(fillet2_edges, radius=FILLET2_R)

    # Fillet3
    fillet3_edges = [part.edges().sort_by_distance(p)[0] for p in [
        (0, 0, -28.922587151),
        (0, 3.175, -28.922587151),
        (111.4806, 3.175, 8.1026),
        (111.4806, 0, 8.1026),
        (146.7612, 0, -28.922587151),
        (146.7612, 3.175, -28.922587151),
        (146.7612, 0, -98.712412849),
        (146.7612, 3.175, -98.712412849),
        (111.4806, 0, -135.7376),
        (111.4806, 3.175, -135.7376),
        (35.2806, 3.175, -135.7376),
        (35.2806, 0, -135.7376),
        (0, 0, -98.712412849),
        (0, 3.175, -98.712412849),
    ]]
    fillet(fillet3_edges, radius=FILLET3_R)

    # Fillet4
    fillet4_edges = [part.edges().sort_by_distance(p)[0] for p in [
        (0, 1.5875, -35.272587151),
        (0, 1.5875, -22.572587151),
        (117.8306, 1.5875, 8.1026),
        (105.1306, 1.5875, 8.1026),
        (146.7612, 1.5875, -35.272587151),
        (146.7612, 1.5875, -22.572587151),
        (146.7612, 1.5875, -105.062412849),
        (146.7612, 1.5875, -92.362412849),
        (105.1306, 1.5875, -135.7376),
        (117.8306, 1.5875, -135.7376),
        (28.9306, 1.5875, -135.7376),
        (41.6306, 1.5875, -135.7376),
        (0, 1.5875, -92.362412849),
        (0, 1.5875, -105.062412849),
    ]]
    fillet(fillet4_edges, radius=FILLET4_R)


solid = part.part
